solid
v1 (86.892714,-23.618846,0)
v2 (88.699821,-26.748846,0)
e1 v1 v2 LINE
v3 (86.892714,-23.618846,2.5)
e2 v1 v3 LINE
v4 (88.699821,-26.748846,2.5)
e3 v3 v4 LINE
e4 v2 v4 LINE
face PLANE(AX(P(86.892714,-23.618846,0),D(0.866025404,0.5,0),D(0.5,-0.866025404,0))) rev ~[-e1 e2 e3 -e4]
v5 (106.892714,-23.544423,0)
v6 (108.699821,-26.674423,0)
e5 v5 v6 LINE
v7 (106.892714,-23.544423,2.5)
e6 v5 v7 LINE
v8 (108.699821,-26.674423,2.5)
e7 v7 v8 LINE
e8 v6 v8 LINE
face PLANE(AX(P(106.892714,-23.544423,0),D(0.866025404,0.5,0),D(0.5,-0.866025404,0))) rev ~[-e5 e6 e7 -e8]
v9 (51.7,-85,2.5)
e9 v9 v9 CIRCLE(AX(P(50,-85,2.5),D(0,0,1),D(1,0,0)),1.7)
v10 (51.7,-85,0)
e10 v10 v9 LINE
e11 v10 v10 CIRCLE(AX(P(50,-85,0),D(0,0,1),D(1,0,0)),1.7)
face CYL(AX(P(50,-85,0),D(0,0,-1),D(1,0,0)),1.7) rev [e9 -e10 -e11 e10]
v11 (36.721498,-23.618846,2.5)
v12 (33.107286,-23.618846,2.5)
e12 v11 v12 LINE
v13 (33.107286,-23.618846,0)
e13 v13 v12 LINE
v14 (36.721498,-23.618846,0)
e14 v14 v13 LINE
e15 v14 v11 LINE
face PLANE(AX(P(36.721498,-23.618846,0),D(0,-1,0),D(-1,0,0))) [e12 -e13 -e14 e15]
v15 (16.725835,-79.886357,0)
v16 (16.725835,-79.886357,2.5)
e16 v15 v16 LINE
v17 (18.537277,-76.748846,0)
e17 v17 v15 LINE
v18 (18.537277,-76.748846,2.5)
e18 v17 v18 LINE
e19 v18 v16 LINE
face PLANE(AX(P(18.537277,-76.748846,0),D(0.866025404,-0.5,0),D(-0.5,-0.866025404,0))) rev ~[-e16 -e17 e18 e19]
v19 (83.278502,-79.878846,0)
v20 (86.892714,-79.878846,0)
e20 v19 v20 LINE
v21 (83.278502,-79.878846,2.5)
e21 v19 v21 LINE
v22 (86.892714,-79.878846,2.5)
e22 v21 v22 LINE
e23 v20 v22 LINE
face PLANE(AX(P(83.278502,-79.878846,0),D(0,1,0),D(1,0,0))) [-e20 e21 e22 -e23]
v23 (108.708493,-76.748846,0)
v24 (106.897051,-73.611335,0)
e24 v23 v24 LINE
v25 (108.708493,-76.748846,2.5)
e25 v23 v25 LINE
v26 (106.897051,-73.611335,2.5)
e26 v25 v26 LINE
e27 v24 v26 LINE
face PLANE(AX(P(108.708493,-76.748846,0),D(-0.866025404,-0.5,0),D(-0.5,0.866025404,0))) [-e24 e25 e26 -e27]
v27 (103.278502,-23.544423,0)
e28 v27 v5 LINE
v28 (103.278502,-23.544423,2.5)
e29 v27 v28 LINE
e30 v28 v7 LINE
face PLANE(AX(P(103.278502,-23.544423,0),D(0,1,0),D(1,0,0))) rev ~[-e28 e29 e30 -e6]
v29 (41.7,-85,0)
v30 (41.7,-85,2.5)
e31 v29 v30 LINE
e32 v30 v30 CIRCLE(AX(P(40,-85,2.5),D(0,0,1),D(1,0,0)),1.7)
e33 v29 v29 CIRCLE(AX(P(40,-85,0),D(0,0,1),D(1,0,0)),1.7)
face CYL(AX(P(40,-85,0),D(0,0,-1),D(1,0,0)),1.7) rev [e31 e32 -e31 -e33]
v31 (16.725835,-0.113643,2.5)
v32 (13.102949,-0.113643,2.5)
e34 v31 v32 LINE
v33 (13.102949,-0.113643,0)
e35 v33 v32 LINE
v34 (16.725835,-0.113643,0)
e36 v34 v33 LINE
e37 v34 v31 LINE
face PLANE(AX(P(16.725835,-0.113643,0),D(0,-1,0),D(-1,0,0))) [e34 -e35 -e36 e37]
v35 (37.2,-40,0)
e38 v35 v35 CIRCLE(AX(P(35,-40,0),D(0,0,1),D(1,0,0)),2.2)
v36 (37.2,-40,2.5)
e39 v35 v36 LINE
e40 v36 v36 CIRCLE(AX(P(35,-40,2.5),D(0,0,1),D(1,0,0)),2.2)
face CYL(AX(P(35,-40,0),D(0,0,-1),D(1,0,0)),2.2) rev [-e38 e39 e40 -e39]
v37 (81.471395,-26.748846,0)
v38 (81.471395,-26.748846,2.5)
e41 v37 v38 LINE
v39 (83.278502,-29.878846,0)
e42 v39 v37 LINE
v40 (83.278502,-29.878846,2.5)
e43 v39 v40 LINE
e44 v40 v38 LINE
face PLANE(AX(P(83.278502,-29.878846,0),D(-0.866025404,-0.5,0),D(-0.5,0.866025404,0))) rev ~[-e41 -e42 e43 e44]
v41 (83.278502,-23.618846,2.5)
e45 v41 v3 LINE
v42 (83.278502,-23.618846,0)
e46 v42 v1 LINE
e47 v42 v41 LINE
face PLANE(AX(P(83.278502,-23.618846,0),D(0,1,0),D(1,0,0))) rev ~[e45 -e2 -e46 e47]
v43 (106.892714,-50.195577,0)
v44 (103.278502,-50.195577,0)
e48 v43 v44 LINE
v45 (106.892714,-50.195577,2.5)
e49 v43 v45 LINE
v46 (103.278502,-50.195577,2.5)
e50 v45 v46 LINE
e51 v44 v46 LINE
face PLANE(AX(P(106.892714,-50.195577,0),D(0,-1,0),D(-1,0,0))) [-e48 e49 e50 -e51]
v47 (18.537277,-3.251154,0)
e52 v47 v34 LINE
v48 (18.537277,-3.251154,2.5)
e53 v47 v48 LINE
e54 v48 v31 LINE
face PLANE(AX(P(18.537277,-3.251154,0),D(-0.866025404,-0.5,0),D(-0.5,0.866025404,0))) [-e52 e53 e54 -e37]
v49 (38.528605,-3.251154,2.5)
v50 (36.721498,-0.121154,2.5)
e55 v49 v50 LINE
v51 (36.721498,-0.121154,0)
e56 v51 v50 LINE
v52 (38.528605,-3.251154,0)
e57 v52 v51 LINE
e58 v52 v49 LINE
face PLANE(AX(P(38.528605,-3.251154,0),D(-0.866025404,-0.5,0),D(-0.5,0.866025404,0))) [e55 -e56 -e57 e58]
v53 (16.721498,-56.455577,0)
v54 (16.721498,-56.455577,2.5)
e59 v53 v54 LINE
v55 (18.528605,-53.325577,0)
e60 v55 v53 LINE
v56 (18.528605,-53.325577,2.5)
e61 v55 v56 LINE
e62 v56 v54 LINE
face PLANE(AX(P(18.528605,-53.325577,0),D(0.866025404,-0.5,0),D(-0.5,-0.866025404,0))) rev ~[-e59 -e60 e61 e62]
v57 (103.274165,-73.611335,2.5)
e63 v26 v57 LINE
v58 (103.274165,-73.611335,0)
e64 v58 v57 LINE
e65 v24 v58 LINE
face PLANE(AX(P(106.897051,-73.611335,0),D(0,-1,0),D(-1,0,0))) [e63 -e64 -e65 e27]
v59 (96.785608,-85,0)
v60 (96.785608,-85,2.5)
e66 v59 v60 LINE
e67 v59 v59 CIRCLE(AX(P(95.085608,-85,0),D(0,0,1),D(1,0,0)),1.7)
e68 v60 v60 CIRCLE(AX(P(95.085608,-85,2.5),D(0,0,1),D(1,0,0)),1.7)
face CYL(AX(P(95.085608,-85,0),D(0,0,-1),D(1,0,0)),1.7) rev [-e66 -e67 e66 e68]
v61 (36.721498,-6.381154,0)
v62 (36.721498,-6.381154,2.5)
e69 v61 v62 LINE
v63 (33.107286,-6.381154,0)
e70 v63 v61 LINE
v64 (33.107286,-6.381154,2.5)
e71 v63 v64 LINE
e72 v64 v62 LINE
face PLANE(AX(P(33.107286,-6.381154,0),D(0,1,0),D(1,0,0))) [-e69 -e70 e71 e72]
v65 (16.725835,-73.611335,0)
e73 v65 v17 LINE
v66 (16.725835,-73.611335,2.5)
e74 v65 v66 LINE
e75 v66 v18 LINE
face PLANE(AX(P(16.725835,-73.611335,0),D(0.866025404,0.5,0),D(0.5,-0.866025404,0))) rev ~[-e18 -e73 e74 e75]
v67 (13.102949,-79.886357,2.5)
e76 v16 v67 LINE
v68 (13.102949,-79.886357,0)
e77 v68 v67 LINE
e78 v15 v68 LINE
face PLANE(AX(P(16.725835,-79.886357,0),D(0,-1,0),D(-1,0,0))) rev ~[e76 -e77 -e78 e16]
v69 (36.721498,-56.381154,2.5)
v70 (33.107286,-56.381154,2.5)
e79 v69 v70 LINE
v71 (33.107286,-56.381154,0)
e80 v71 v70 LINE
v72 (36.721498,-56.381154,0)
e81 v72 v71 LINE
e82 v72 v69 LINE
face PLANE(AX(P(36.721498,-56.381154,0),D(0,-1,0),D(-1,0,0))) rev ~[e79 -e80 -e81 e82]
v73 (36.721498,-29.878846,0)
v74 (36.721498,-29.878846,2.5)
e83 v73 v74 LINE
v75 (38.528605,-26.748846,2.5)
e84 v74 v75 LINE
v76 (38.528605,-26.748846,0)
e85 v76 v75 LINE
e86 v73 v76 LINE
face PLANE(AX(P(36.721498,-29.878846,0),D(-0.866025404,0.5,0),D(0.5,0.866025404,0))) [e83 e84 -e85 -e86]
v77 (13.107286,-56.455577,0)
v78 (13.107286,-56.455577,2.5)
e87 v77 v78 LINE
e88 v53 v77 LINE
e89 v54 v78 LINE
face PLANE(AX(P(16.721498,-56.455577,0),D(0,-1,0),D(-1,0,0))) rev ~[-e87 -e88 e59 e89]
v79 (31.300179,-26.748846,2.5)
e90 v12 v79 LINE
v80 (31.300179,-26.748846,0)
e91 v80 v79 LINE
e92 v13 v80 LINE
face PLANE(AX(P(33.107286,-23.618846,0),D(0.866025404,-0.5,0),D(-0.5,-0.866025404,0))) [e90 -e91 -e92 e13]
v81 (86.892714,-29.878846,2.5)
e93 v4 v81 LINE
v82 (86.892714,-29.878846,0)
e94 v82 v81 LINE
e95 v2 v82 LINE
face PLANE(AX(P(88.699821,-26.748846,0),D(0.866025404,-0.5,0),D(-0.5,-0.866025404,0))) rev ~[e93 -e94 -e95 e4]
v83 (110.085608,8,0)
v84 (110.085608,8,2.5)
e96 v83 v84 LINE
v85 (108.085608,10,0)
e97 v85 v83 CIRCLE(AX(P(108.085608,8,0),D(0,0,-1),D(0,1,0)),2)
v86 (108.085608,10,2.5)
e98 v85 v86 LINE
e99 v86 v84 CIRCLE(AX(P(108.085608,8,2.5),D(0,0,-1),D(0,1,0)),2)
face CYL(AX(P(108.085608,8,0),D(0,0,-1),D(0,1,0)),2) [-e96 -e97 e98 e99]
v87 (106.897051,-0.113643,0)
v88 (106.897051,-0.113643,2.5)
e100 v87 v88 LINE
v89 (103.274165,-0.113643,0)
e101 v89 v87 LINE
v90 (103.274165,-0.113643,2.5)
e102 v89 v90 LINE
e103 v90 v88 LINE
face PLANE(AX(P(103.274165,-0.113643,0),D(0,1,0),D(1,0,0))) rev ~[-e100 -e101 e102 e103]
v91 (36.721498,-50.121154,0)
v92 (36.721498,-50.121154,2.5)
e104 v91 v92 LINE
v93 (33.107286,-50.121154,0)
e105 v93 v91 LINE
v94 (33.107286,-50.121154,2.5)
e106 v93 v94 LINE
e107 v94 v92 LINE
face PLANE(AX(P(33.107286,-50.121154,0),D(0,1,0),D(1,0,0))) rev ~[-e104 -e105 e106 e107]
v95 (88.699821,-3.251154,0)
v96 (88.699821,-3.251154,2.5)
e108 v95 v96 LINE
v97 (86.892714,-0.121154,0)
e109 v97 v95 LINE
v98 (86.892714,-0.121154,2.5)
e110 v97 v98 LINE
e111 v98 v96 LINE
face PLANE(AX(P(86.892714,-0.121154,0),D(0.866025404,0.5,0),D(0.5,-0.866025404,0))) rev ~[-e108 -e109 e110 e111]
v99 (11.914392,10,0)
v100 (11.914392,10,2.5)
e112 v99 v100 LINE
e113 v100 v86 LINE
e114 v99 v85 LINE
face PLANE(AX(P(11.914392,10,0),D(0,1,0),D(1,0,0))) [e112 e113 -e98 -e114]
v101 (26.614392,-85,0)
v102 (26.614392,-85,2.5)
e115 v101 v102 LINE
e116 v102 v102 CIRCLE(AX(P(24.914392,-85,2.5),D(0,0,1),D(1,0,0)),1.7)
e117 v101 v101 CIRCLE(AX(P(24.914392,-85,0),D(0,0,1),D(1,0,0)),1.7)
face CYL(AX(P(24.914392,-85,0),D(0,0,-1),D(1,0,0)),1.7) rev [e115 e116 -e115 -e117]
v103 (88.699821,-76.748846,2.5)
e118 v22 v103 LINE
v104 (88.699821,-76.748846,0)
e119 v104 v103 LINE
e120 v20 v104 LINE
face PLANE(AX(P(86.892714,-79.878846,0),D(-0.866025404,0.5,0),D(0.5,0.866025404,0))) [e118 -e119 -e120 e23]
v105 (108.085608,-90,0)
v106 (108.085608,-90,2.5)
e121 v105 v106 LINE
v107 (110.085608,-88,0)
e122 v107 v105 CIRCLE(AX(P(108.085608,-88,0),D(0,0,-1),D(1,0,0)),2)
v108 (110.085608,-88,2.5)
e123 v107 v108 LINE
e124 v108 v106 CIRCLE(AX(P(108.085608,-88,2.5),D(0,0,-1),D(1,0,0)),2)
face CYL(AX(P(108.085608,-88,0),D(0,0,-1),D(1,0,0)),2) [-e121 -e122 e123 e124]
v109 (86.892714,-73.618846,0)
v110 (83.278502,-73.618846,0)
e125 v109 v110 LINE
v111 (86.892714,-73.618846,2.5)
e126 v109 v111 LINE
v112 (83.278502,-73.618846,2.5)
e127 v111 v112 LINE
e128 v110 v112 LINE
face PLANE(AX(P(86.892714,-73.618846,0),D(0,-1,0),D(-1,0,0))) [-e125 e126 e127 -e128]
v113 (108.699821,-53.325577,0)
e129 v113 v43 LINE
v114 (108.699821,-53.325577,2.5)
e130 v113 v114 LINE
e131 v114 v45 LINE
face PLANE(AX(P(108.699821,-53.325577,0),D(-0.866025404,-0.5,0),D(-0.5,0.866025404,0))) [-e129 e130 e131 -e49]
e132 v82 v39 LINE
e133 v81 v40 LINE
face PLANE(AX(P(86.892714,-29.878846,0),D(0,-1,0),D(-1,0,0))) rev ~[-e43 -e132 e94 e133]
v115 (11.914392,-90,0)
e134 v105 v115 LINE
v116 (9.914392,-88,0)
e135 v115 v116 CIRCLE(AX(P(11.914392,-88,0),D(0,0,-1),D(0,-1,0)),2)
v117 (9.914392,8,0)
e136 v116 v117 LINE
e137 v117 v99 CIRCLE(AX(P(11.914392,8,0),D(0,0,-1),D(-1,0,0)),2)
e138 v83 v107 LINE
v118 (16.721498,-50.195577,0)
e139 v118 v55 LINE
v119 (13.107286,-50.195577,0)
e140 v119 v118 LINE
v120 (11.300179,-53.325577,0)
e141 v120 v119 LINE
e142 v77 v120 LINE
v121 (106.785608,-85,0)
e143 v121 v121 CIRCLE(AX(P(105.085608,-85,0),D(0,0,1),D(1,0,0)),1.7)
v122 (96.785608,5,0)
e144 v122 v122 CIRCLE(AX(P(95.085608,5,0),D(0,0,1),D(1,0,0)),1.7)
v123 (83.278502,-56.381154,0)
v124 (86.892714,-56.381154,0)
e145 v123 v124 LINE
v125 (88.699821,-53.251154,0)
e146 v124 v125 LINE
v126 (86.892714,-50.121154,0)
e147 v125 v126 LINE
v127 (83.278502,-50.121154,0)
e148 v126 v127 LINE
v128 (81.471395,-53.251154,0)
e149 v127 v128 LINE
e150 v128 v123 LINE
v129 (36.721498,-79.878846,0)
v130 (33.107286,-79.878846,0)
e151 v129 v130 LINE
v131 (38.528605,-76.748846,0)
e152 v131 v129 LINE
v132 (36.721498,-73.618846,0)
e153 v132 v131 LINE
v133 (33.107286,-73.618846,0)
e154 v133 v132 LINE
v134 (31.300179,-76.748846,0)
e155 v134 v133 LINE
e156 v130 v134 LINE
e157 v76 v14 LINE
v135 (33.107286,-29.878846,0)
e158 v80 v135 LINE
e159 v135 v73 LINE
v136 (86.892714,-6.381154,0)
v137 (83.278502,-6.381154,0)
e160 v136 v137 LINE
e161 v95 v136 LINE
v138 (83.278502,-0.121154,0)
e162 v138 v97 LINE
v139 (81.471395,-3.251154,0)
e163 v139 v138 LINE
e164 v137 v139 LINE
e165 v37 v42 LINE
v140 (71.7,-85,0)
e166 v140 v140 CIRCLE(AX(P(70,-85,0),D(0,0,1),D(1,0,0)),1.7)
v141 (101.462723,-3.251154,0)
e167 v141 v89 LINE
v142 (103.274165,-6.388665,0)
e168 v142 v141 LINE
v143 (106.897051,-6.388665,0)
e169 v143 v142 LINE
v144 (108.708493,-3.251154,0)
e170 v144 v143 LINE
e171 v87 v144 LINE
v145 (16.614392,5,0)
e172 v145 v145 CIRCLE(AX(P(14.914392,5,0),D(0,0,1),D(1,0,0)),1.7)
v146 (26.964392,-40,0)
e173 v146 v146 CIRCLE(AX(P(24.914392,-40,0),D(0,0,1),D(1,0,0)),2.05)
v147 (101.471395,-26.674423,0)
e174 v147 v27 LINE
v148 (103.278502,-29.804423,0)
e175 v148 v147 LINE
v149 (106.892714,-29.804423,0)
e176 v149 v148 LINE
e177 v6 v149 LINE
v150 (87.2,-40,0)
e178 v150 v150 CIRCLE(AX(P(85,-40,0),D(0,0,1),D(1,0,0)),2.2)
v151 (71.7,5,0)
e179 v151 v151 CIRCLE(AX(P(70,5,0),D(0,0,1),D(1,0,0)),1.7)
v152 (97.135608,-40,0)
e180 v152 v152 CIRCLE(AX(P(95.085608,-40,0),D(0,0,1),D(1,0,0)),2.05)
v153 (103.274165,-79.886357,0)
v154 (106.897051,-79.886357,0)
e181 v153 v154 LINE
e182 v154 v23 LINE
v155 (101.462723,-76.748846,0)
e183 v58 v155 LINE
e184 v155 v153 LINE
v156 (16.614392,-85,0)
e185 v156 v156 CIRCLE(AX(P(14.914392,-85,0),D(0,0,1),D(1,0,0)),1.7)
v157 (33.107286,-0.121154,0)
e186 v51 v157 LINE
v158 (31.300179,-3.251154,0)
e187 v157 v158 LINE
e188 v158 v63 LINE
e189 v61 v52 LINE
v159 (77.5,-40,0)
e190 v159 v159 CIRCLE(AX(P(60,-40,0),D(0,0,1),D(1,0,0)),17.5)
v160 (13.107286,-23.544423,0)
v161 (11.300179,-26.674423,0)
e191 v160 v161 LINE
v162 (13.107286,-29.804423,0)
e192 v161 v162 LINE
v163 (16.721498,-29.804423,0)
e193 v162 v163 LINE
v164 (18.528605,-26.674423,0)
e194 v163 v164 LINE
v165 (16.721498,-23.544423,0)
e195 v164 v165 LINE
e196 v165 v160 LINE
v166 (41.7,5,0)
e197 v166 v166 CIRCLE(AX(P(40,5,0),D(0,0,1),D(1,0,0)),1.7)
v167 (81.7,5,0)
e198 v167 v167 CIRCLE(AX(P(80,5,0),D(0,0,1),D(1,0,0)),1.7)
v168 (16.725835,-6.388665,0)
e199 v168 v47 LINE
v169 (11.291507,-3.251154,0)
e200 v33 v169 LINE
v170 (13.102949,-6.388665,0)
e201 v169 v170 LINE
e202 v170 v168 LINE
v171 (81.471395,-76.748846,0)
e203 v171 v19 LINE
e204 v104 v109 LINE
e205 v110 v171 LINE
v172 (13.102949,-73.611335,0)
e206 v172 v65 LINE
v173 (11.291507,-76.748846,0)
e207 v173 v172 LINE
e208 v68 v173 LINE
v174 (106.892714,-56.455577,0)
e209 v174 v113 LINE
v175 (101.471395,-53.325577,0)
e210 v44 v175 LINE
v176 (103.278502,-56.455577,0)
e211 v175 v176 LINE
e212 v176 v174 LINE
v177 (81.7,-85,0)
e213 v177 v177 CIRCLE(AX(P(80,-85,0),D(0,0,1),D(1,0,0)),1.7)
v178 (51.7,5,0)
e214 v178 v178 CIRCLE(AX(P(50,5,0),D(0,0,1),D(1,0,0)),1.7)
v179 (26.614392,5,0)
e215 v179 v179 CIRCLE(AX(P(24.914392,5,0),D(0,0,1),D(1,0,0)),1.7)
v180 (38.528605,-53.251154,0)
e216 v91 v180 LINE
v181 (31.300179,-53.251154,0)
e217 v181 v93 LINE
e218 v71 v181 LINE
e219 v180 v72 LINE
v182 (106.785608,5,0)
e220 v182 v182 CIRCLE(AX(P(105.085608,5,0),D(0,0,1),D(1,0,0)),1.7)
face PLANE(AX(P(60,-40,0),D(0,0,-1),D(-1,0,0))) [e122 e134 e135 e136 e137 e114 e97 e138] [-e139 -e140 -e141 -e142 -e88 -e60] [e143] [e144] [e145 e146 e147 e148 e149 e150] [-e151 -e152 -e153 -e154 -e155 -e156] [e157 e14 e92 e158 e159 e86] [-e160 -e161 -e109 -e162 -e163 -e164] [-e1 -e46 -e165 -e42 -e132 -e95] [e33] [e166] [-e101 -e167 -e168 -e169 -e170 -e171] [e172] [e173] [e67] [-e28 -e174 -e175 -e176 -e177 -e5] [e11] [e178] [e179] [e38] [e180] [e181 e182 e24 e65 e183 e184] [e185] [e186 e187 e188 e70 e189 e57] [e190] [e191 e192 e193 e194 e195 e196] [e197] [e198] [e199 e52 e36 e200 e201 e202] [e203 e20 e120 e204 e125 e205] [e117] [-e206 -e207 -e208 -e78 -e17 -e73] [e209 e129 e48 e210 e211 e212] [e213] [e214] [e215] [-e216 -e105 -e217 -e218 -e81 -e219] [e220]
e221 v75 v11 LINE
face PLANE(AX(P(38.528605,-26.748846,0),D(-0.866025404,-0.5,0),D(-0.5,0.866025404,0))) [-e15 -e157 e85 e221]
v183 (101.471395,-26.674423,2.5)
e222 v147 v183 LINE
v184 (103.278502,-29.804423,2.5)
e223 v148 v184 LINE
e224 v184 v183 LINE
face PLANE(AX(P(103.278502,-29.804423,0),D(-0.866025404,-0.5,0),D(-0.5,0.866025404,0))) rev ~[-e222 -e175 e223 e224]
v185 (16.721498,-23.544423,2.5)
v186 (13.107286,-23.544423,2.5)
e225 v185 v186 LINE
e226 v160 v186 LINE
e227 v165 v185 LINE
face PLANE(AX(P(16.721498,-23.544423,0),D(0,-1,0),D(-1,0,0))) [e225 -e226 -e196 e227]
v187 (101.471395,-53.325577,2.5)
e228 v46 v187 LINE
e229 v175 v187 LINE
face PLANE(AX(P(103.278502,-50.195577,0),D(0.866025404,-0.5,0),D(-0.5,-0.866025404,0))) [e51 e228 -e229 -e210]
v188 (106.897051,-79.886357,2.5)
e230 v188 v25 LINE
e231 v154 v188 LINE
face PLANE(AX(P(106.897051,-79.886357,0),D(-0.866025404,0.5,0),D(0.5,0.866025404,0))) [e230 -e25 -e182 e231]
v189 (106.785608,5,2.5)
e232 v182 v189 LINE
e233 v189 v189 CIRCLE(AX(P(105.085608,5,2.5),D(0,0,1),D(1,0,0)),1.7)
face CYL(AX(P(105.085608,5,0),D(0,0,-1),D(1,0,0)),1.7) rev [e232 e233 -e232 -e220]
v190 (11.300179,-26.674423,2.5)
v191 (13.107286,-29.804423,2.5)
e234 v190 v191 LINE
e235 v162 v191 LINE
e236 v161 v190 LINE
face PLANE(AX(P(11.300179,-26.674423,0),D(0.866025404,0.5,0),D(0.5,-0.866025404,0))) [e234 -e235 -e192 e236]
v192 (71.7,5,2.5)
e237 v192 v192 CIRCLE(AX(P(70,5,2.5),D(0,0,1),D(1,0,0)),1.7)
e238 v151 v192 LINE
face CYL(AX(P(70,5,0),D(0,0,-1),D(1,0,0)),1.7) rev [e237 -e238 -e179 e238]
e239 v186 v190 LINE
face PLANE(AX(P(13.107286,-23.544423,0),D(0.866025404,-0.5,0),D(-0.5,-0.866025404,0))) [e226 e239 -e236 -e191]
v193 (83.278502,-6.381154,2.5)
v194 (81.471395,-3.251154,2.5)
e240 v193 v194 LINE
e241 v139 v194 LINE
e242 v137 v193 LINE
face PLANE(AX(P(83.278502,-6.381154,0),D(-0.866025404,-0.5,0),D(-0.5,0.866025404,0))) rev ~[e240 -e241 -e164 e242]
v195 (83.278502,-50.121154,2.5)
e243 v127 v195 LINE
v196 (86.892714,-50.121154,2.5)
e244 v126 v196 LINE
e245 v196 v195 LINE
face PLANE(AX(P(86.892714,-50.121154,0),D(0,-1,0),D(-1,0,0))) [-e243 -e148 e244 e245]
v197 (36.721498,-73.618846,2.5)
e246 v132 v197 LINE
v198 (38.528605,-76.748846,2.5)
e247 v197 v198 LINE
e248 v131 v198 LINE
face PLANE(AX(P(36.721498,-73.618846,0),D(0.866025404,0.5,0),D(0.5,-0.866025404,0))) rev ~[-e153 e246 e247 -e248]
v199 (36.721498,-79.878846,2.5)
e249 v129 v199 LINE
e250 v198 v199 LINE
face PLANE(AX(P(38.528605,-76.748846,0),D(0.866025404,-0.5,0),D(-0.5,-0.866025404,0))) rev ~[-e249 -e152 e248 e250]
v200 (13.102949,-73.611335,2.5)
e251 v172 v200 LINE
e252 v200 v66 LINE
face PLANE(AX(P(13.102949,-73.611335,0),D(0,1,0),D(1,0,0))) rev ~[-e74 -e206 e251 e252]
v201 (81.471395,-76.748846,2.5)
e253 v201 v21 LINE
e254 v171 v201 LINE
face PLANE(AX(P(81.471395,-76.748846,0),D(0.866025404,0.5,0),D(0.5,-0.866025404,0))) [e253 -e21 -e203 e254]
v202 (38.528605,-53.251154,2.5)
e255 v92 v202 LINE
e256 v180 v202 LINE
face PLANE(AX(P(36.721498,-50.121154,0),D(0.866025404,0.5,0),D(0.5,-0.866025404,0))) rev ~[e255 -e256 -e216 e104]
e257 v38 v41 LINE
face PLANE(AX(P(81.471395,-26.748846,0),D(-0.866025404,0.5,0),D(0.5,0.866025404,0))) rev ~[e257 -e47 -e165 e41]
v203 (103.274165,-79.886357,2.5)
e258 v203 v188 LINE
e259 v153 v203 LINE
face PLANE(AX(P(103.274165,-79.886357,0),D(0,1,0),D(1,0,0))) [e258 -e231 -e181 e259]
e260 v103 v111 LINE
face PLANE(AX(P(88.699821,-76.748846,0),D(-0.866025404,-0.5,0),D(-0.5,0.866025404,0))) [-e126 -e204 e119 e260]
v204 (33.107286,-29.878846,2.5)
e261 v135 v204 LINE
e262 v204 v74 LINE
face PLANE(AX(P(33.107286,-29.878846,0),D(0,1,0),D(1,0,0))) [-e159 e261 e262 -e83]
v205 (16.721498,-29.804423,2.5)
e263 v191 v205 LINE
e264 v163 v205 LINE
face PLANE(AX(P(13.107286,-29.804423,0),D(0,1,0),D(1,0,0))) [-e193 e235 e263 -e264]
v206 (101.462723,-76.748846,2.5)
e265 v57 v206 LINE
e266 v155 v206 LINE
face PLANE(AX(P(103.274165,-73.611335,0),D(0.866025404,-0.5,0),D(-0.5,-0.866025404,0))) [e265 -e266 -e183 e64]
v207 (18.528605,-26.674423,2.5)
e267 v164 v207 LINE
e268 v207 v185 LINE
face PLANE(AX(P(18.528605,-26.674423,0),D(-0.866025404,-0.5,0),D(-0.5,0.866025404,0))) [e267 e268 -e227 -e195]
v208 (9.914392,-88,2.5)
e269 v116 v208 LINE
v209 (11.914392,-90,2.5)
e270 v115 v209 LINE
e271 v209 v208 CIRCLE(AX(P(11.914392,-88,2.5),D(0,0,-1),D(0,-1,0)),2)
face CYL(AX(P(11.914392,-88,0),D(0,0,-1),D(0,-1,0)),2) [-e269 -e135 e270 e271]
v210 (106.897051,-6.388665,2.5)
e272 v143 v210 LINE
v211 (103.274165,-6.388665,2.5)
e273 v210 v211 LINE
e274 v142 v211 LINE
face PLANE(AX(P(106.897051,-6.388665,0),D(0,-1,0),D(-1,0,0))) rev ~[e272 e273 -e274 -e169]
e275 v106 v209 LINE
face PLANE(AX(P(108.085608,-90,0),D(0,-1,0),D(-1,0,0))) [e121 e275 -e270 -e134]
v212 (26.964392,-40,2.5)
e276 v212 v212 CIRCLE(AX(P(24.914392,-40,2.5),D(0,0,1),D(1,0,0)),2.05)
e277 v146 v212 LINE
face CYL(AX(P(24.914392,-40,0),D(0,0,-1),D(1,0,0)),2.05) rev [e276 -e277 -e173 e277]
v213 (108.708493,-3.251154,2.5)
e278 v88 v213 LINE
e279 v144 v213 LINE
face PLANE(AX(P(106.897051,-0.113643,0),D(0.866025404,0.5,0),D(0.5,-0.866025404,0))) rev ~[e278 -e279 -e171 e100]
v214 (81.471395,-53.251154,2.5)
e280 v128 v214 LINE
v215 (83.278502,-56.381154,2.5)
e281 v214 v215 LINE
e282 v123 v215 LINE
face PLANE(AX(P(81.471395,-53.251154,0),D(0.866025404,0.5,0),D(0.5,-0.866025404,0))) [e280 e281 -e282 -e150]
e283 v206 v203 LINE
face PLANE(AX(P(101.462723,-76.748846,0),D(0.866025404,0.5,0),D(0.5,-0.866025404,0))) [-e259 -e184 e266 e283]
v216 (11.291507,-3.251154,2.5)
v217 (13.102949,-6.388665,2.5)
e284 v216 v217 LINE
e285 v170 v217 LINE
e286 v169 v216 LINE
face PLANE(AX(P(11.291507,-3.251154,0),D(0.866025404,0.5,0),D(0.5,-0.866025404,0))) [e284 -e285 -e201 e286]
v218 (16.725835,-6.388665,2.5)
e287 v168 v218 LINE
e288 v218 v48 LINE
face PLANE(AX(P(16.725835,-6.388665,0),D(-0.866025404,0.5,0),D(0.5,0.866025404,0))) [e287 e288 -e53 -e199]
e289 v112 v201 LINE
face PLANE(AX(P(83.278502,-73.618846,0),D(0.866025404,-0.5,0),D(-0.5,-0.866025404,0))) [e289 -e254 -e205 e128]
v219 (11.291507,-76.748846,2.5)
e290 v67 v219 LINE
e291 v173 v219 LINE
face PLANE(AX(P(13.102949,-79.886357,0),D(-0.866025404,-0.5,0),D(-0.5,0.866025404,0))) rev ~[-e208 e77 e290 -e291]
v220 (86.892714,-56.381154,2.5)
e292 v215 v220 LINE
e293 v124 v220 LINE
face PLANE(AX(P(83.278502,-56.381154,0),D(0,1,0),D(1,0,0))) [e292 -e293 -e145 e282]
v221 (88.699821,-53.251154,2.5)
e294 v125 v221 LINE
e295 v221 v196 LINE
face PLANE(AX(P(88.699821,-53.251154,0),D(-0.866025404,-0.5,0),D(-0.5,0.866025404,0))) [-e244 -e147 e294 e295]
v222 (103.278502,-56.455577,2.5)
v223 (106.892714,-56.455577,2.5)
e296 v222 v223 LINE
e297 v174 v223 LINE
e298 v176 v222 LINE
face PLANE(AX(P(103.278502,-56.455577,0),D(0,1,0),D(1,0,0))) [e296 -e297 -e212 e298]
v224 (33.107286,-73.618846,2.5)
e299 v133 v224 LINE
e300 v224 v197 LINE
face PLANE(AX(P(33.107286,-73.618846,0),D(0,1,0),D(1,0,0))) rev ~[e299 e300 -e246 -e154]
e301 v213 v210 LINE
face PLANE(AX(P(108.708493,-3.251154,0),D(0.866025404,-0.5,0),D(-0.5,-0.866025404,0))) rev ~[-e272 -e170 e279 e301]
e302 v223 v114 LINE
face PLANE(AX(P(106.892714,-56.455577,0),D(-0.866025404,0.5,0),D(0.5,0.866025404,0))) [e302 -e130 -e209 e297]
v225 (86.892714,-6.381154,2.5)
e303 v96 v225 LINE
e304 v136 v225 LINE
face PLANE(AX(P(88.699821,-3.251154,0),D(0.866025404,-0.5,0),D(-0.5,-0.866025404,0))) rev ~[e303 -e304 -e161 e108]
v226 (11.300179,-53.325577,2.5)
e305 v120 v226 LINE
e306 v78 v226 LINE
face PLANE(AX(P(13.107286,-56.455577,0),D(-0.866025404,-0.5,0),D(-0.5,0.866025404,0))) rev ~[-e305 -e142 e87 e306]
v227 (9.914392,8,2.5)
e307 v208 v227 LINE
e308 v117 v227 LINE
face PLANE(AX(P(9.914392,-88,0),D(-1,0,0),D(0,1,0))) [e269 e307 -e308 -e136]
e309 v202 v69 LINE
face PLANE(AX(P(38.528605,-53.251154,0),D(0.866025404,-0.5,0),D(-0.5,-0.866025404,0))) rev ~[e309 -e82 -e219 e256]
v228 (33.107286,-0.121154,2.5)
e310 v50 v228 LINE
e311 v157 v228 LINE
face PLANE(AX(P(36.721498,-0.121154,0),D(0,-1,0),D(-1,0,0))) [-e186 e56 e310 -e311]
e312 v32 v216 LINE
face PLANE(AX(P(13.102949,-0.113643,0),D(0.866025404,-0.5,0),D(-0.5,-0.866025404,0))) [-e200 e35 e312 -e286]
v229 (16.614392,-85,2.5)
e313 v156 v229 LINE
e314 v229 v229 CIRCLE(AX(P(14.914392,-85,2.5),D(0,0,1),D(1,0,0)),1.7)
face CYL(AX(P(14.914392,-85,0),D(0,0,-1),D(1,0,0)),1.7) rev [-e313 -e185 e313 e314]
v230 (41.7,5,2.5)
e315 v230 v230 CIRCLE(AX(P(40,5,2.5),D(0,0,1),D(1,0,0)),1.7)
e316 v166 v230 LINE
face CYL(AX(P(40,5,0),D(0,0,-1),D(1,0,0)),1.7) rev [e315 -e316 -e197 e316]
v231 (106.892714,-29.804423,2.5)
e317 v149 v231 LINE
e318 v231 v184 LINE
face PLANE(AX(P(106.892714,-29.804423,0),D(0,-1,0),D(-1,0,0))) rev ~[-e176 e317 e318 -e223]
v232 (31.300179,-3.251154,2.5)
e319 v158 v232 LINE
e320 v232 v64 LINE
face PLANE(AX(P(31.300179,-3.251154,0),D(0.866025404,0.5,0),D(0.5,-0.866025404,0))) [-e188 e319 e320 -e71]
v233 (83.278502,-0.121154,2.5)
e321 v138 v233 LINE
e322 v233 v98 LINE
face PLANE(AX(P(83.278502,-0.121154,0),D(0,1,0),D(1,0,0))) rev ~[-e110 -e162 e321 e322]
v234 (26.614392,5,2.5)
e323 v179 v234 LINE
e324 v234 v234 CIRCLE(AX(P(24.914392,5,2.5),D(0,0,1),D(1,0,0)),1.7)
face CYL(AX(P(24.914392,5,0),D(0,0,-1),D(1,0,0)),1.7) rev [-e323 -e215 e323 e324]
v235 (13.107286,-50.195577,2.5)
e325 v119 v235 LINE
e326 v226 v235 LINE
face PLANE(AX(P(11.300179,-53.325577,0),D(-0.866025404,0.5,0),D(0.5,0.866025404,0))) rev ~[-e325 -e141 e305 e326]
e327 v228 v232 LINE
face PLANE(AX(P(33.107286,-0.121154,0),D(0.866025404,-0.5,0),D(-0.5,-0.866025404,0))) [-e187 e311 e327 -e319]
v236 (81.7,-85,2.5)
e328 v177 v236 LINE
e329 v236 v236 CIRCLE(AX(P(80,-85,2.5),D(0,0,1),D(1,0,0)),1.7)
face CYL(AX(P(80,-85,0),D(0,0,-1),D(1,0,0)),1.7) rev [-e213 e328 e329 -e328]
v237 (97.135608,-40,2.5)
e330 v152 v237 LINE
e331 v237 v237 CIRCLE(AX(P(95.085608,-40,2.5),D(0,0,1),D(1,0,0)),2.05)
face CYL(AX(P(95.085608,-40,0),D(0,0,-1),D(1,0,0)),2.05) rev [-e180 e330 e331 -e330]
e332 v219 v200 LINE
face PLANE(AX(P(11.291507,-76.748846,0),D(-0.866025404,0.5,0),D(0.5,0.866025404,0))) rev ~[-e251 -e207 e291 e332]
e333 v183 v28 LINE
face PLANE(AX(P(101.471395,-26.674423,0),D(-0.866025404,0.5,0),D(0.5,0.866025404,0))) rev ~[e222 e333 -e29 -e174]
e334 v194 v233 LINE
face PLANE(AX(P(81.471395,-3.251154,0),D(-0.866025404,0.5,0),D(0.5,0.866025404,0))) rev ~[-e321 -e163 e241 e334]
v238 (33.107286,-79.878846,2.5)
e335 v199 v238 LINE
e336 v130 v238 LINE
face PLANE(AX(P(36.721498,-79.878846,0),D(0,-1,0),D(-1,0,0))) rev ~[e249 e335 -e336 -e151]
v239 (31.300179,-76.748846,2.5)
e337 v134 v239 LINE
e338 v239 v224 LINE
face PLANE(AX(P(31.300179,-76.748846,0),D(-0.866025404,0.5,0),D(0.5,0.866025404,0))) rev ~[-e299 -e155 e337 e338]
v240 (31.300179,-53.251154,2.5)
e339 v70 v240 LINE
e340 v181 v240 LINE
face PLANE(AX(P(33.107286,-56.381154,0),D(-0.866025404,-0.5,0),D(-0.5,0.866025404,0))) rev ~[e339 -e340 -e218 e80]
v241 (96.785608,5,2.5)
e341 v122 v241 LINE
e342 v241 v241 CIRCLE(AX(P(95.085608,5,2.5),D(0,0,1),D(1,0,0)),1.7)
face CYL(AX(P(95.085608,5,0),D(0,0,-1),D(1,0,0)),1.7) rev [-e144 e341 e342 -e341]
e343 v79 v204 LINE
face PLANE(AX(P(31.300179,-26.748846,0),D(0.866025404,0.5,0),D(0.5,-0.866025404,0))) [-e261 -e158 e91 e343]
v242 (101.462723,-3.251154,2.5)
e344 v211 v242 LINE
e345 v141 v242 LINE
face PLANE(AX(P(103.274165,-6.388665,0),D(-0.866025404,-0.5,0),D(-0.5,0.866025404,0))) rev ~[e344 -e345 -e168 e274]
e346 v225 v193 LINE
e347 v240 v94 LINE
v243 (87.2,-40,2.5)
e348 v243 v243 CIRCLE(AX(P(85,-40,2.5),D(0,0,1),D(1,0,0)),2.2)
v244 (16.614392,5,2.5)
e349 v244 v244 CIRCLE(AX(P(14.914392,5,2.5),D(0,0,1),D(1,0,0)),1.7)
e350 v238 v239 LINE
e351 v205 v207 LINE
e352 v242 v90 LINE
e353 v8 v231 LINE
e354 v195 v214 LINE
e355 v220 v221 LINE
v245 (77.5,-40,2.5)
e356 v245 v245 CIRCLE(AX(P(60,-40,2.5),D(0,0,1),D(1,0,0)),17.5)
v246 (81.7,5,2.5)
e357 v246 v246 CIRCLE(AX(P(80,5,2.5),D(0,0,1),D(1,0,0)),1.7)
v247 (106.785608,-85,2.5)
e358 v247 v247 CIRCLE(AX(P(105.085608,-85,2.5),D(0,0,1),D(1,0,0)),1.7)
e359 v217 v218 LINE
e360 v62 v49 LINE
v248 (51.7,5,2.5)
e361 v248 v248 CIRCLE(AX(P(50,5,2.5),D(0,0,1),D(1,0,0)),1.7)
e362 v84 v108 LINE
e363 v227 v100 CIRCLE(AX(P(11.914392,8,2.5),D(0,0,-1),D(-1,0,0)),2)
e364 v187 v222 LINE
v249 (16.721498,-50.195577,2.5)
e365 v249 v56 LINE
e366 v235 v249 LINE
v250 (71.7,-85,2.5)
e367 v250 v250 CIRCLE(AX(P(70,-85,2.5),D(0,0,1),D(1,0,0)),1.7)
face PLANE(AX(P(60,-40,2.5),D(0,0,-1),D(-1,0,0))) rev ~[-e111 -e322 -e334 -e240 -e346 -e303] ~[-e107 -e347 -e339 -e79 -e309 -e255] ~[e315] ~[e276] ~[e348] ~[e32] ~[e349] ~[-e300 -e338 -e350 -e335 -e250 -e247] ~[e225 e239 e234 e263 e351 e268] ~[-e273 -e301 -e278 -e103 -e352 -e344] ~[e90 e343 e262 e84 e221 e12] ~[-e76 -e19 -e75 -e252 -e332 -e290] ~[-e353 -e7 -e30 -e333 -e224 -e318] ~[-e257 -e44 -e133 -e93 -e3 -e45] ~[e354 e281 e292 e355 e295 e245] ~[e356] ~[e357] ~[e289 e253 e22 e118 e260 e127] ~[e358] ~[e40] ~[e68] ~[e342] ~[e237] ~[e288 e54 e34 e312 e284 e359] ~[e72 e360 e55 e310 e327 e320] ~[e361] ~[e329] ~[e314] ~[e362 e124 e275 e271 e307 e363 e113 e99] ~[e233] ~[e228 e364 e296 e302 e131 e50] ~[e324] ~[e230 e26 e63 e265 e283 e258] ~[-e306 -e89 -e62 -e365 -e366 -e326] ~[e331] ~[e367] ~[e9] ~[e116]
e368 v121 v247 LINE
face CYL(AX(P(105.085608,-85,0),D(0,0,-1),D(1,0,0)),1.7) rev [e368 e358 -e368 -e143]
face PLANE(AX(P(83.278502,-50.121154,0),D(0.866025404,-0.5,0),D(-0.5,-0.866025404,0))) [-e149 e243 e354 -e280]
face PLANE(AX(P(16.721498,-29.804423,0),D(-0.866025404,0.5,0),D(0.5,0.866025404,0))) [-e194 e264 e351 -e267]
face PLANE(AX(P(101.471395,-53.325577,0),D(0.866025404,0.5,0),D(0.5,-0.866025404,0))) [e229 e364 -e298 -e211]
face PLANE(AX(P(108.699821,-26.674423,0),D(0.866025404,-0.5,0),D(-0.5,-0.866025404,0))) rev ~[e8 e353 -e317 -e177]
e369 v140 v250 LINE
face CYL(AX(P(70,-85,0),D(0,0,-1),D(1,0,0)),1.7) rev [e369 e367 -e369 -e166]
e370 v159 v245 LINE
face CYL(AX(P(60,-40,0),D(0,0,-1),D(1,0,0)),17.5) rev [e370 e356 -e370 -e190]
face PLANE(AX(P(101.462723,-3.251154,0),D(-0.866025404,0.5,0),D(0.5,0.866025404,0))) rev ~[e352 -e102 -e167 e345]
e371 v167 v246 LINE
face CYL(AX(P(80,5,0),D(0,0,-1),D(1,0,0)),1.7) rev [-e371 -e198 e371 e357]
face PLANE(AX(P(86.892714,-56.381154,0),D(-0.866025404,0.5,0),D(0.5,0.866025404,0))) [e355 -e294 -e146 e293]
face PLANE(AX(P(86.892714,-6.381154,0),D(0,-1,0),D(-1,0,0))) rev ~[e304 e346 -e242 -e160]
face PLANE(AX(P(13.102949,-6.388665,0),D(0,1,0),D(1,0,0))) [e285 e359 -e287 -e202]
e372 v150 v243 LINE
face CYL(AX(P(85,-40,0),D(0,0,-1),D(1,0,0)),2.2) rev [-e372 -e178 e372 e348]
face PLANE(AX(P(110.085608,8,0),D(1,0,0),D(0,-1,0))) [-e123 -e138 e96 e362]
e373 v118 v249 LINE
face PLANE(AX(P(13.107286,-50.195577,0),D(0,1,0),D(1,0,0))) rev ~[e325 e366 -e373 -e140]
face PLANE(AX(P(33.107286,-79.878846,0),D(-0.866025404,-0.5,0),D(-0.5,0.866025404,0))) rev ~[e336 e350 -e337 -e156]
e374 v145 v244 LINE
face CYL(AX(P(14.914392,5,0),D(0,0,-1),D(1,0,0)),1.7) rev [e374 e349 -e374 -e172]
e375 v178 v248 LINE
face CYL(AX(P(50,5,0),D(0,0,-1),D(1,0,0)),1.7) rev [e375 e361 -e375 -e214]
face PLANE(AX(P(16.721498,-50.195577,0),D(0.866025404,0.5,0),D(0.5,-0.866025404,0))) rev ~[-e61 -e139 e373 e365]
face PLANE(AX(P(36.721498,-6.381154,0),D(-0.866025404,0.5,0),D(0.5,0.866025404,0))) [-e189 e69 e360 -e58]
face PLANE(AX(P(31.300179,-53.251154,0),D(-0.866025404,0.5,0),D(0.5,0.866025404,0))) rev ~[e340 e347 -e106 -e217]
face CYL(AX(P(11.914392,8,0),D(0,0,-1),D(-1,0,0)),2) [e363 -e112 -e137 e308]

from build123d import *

# Parameters (mm, degrees)
SKIZZE1_R                       = 17.5
SKIZZE1_R_2                     = 2.2
SKIZZE1_R_3                     = 1.7
SKIZZE1_R_4                     = 2.05
AUFSATZ_LINEAR_AUSTRAGEN1_DEPTH = 2.5


with BuildPart() as part:
    # Skizze1 → Aufsatz-Linear austragen1 (new body)
    with BuildSketch(Plane.XY):
        with BuildLine():
            Line((9.914391914, -80), (9.914391914, 0))
            Line((9.914391914, 0), (9.914391914, 8))
            ThreePointArc((9.914391914, 8), (10.500178351, 9.414213562), (11.914391914, 10))
            Line((11.914391914, 10), (108.085608086, 10))
            ThreePointArc((108.085608086, 10), (109.499821649, 9.414213562), (110.085608086, 8))
            Line((110.085608086, 8), (110.085608086, 0))
            Line((110.085608086, 0), (110.085608086, -80))
            Line((110.085608086, -80), (110.085608086, -88))
            ThreePointArc((110.085608086, -88), (109.499821649, -89.414213562), (108.085608086, -90))
            Line((108.085608086, -90), (11.914391914, -90))
            ThreePointArc((11.914391914, -90), (10.500178351, -89.414213562), (9.914391914, -88))
            Line((9.914391914, -88), (9.914391914, -80))
        make_face()
        with Locations((60, -40)):
            Circle(SKIZZE1_R, mode=Mode.SUBTRACT)
        with Locations((35, -40)):
            Circle(SKIZZE1_R_2, mode=Mode.SUBTRACT)
        with Locations((50, -85)):
            Circle(SKIZZE1_R_3, mode=Mode.SUBTRACT)
        with Locations((24.914391914, -40)):
            Circle(SKIZZE1_R_4, mode=Mode.SUBTRACT)
        with Locations((40, -85)):
            Circle(SKIZZE1_R_3, mode=Mode.SUBTRACT)
        with Locations((95.085608086, -85)):
            Circle(SKIZZE1_R_3, mode=Mode.SUBTRACT)
        with Locations((24.914391914, -85)):
            Circle(SKIZZE1_R_3, mode=Mode.SUBTRACT)
        with Locations((14.914391914, -85)):
            Circle(SKIZZE1_R_3, mode=Mode.SUBTRACT)
        with Locations((105.085608086, -85)):
            Circle(SKIZZE1_R_3, mode=Mode.SUBTRACT)
        with Locations((40, 5)):
            Circle(SKIZZE1_R_3, mode=Mode.SUBTRACT)
        with Locations((50, 5)):
            Circle(SKIZZE1_R_3, mode=Mode.SUBTRACT)
        with Locations((70, 5)):
            Circle(SKIZZE1_R_3, mode=Mode.SUBTRACT)
        with Locations((80, 5)):
            Circle(SKIZZE1_R_3, mode=Mode.SUBTRACT)
        with Locations((95.085608086, 5)):
            Circle(SKIZZE1_R_3, mode=Mode.SUBTRACT)
        with Locations((105.085608086, 5)):
            Circle(SKIZZE1_R_3, mode=Mode.SUBTRACT)
        with Locations((80, -85)):
            Circle(SKIZZE1_R_3, mode=Mode.SUBTRACT)
        with Locations((95.085608086, -40)):
            Circle(SKIZZE1_R_4, mode=Mode.SUBTRACT)
        with Locations((70, -85)):
            Circle(SKIZZE1_R_3, mode=Mode.SUBTRACT)
        with Locations((85, -40)):
            Circle(SKIZZE1_R_2, mode=Mode.SUBTRACT)
        with Locations((24.914391914, 5)):
            Circle(SKIZZE1_R_3, mode=Mode.SUBTRACT)
        with Locations((14.914391914, 5)):
            Circle(SKIZZE1_R_3, mode=Mode.SUBTRACT)
        Polygon((101.462722804, -76.748846085), (103.274165445, -79.886356775), (106.897050727, -79.886356775), (108.708493369, -76.748846085), (106.897050727, -73.611335396), (103.274165445, -73.611335396), align=None, mode=Mode.SUBTRACT)
        Polygon((33.107285571, -56.381153914), (31.300179229, -53.251153914), (33.107285571, -50.121153914), (36.721498256, -50.121153914), (38.528604599, -53.251153914), (36.721498256, -56.381153914), align=None, mode=Mode.SUBTRACT)
        Polygon((18.537277196, -3.251153914), (16.725834555, -0.113643225), (13.102949273, -0.113643225), (11.291506631, -3.251153914), (13.102949273, -6.388664604), (16.725834555, -6.388664604), align=None, mode=Mode.SUBTRACT)
        Polygon((38.528604599, -3.251153914), (36.721498256, -0.121153914), (33.107285571, -0.121153914), (31.300179229, -3.251153914), (33.107285571, -6.381153914), (36.721498256, -6.381153914), align=None, mode=Mode.SUBTRACT)
        Polygon((18.528604599, -26.674423043), (16.721498256, -23.544423043), (13.107285571, -23.544423043), (11.300179229, -26.674423043), (13.107285571, -29.804423043), (16.721498256, -29.804423043), align=None, mode=Mode.SUBTRACT)
        Polygon((31.300179229, -26.748846085), (33.107285571, -29.878846085), (36.721498256, -29.878846085), (38.528604599, -26.748846085), (36.721498256, -23.618846085), (33.107285571, -23.618846085), align=None, mode=Mode.SUBTRACT)
        Polygon((16.721498256, -50.195576957), (18.528604599, -53.325576957), (16.721498256, -56.455576957), (13.107285571, -56.455576957), (11.300179229, -53.325576957), (13.107285571, -50.195576957), align=None, mode=Mode.SUBTRACT)
        Polygon((36.721498256, -73.618846085), (38.528604599, -76.748846085), (36.721498256, -79.878846085), (33.107285571, -79.878846085), (31.300179229, -76.748846085), (33.107285571, -73.618846085), align=None, mode=Mode.SUBTRACT)
        Polygon((16.725834555, -73.611335396), (18.537277196, -76.748846085), (16.725834555, -79.886356775), (13.102949273, -79.886356775), (11.291506631, -76.748846085), (13.102949273, -73.611335396), align=None, mode=Mode.SUBTRACT)
        Polygon((81.471395401, -76.748846085), (83.278501744, -79.878846085), (86.892714429, -79.878846085), (88.699820771, -76.748846085), (86.892714429, -73.618846085), (83.278501744, -73.618846085), align=None, mode=Mode.SUBTRACT)
        Polygon((101.471395401, -53.325576957), (103.278501744, -56.455576957), (106.892714429, -56.455576957), (108.699820771, -53.325576957), (106.892714429, -50.195576957), (103.278501744, -50.195576957), align=None, mode=Mode.SUBTRACT)
        Polygon((88.699820771, -53.251153914), (86.892714429, -50.121153914), (83.278501744, -50.121153914), (81.471395401, -53.251153914), (83.278501744, -56.381153914), (86.892714429, -56.381153914), align=None, mode=Mode.SUBTRACT)
        Polygon((86.892714429, -23.618846085), (88.699820771, -26.748846085), (86.892714429, -29.878846085), (83.278501744, -29.878846085), (81.471395401, -26.748846085), (83.278501744, -23.618846085), align=None, mode=Mode.SUBTRACT)
        Polygon((103.278501744, -29.804423043), (101.471395401, -26.674423043), (103.278501744, -23.544423043), (106.892714429, -23.544423043), (108.699820771, -26.674423043), (106.892714429, -29.804423043), align=None, mode=Mode.SUBTRACT)
        Polygon((83.278501744, -6.381153914), (81.471395401, -3.251153914), (83.278501744, -0.121153914), (86.892714429, -0.121153914), (88.699820771, -3.251153914), (86.892714429, -6.381153914), align=None, mode=Mode.SUBTRACT)
        Polygon((103.274165445, -6.388664604), (101.462722804, -3.251153914), (103.274165445, -0.113643225), (106.897050727, -0.113643225), (108.708493369, -3.251153914), (106.897050727, -6.388664604), align=None, mode=Mode.SUBTRACT)
    extrude(amount=AUFSATZ_LINEAR_AUSTRAGEN1_DEPTH)


solid = part.part
